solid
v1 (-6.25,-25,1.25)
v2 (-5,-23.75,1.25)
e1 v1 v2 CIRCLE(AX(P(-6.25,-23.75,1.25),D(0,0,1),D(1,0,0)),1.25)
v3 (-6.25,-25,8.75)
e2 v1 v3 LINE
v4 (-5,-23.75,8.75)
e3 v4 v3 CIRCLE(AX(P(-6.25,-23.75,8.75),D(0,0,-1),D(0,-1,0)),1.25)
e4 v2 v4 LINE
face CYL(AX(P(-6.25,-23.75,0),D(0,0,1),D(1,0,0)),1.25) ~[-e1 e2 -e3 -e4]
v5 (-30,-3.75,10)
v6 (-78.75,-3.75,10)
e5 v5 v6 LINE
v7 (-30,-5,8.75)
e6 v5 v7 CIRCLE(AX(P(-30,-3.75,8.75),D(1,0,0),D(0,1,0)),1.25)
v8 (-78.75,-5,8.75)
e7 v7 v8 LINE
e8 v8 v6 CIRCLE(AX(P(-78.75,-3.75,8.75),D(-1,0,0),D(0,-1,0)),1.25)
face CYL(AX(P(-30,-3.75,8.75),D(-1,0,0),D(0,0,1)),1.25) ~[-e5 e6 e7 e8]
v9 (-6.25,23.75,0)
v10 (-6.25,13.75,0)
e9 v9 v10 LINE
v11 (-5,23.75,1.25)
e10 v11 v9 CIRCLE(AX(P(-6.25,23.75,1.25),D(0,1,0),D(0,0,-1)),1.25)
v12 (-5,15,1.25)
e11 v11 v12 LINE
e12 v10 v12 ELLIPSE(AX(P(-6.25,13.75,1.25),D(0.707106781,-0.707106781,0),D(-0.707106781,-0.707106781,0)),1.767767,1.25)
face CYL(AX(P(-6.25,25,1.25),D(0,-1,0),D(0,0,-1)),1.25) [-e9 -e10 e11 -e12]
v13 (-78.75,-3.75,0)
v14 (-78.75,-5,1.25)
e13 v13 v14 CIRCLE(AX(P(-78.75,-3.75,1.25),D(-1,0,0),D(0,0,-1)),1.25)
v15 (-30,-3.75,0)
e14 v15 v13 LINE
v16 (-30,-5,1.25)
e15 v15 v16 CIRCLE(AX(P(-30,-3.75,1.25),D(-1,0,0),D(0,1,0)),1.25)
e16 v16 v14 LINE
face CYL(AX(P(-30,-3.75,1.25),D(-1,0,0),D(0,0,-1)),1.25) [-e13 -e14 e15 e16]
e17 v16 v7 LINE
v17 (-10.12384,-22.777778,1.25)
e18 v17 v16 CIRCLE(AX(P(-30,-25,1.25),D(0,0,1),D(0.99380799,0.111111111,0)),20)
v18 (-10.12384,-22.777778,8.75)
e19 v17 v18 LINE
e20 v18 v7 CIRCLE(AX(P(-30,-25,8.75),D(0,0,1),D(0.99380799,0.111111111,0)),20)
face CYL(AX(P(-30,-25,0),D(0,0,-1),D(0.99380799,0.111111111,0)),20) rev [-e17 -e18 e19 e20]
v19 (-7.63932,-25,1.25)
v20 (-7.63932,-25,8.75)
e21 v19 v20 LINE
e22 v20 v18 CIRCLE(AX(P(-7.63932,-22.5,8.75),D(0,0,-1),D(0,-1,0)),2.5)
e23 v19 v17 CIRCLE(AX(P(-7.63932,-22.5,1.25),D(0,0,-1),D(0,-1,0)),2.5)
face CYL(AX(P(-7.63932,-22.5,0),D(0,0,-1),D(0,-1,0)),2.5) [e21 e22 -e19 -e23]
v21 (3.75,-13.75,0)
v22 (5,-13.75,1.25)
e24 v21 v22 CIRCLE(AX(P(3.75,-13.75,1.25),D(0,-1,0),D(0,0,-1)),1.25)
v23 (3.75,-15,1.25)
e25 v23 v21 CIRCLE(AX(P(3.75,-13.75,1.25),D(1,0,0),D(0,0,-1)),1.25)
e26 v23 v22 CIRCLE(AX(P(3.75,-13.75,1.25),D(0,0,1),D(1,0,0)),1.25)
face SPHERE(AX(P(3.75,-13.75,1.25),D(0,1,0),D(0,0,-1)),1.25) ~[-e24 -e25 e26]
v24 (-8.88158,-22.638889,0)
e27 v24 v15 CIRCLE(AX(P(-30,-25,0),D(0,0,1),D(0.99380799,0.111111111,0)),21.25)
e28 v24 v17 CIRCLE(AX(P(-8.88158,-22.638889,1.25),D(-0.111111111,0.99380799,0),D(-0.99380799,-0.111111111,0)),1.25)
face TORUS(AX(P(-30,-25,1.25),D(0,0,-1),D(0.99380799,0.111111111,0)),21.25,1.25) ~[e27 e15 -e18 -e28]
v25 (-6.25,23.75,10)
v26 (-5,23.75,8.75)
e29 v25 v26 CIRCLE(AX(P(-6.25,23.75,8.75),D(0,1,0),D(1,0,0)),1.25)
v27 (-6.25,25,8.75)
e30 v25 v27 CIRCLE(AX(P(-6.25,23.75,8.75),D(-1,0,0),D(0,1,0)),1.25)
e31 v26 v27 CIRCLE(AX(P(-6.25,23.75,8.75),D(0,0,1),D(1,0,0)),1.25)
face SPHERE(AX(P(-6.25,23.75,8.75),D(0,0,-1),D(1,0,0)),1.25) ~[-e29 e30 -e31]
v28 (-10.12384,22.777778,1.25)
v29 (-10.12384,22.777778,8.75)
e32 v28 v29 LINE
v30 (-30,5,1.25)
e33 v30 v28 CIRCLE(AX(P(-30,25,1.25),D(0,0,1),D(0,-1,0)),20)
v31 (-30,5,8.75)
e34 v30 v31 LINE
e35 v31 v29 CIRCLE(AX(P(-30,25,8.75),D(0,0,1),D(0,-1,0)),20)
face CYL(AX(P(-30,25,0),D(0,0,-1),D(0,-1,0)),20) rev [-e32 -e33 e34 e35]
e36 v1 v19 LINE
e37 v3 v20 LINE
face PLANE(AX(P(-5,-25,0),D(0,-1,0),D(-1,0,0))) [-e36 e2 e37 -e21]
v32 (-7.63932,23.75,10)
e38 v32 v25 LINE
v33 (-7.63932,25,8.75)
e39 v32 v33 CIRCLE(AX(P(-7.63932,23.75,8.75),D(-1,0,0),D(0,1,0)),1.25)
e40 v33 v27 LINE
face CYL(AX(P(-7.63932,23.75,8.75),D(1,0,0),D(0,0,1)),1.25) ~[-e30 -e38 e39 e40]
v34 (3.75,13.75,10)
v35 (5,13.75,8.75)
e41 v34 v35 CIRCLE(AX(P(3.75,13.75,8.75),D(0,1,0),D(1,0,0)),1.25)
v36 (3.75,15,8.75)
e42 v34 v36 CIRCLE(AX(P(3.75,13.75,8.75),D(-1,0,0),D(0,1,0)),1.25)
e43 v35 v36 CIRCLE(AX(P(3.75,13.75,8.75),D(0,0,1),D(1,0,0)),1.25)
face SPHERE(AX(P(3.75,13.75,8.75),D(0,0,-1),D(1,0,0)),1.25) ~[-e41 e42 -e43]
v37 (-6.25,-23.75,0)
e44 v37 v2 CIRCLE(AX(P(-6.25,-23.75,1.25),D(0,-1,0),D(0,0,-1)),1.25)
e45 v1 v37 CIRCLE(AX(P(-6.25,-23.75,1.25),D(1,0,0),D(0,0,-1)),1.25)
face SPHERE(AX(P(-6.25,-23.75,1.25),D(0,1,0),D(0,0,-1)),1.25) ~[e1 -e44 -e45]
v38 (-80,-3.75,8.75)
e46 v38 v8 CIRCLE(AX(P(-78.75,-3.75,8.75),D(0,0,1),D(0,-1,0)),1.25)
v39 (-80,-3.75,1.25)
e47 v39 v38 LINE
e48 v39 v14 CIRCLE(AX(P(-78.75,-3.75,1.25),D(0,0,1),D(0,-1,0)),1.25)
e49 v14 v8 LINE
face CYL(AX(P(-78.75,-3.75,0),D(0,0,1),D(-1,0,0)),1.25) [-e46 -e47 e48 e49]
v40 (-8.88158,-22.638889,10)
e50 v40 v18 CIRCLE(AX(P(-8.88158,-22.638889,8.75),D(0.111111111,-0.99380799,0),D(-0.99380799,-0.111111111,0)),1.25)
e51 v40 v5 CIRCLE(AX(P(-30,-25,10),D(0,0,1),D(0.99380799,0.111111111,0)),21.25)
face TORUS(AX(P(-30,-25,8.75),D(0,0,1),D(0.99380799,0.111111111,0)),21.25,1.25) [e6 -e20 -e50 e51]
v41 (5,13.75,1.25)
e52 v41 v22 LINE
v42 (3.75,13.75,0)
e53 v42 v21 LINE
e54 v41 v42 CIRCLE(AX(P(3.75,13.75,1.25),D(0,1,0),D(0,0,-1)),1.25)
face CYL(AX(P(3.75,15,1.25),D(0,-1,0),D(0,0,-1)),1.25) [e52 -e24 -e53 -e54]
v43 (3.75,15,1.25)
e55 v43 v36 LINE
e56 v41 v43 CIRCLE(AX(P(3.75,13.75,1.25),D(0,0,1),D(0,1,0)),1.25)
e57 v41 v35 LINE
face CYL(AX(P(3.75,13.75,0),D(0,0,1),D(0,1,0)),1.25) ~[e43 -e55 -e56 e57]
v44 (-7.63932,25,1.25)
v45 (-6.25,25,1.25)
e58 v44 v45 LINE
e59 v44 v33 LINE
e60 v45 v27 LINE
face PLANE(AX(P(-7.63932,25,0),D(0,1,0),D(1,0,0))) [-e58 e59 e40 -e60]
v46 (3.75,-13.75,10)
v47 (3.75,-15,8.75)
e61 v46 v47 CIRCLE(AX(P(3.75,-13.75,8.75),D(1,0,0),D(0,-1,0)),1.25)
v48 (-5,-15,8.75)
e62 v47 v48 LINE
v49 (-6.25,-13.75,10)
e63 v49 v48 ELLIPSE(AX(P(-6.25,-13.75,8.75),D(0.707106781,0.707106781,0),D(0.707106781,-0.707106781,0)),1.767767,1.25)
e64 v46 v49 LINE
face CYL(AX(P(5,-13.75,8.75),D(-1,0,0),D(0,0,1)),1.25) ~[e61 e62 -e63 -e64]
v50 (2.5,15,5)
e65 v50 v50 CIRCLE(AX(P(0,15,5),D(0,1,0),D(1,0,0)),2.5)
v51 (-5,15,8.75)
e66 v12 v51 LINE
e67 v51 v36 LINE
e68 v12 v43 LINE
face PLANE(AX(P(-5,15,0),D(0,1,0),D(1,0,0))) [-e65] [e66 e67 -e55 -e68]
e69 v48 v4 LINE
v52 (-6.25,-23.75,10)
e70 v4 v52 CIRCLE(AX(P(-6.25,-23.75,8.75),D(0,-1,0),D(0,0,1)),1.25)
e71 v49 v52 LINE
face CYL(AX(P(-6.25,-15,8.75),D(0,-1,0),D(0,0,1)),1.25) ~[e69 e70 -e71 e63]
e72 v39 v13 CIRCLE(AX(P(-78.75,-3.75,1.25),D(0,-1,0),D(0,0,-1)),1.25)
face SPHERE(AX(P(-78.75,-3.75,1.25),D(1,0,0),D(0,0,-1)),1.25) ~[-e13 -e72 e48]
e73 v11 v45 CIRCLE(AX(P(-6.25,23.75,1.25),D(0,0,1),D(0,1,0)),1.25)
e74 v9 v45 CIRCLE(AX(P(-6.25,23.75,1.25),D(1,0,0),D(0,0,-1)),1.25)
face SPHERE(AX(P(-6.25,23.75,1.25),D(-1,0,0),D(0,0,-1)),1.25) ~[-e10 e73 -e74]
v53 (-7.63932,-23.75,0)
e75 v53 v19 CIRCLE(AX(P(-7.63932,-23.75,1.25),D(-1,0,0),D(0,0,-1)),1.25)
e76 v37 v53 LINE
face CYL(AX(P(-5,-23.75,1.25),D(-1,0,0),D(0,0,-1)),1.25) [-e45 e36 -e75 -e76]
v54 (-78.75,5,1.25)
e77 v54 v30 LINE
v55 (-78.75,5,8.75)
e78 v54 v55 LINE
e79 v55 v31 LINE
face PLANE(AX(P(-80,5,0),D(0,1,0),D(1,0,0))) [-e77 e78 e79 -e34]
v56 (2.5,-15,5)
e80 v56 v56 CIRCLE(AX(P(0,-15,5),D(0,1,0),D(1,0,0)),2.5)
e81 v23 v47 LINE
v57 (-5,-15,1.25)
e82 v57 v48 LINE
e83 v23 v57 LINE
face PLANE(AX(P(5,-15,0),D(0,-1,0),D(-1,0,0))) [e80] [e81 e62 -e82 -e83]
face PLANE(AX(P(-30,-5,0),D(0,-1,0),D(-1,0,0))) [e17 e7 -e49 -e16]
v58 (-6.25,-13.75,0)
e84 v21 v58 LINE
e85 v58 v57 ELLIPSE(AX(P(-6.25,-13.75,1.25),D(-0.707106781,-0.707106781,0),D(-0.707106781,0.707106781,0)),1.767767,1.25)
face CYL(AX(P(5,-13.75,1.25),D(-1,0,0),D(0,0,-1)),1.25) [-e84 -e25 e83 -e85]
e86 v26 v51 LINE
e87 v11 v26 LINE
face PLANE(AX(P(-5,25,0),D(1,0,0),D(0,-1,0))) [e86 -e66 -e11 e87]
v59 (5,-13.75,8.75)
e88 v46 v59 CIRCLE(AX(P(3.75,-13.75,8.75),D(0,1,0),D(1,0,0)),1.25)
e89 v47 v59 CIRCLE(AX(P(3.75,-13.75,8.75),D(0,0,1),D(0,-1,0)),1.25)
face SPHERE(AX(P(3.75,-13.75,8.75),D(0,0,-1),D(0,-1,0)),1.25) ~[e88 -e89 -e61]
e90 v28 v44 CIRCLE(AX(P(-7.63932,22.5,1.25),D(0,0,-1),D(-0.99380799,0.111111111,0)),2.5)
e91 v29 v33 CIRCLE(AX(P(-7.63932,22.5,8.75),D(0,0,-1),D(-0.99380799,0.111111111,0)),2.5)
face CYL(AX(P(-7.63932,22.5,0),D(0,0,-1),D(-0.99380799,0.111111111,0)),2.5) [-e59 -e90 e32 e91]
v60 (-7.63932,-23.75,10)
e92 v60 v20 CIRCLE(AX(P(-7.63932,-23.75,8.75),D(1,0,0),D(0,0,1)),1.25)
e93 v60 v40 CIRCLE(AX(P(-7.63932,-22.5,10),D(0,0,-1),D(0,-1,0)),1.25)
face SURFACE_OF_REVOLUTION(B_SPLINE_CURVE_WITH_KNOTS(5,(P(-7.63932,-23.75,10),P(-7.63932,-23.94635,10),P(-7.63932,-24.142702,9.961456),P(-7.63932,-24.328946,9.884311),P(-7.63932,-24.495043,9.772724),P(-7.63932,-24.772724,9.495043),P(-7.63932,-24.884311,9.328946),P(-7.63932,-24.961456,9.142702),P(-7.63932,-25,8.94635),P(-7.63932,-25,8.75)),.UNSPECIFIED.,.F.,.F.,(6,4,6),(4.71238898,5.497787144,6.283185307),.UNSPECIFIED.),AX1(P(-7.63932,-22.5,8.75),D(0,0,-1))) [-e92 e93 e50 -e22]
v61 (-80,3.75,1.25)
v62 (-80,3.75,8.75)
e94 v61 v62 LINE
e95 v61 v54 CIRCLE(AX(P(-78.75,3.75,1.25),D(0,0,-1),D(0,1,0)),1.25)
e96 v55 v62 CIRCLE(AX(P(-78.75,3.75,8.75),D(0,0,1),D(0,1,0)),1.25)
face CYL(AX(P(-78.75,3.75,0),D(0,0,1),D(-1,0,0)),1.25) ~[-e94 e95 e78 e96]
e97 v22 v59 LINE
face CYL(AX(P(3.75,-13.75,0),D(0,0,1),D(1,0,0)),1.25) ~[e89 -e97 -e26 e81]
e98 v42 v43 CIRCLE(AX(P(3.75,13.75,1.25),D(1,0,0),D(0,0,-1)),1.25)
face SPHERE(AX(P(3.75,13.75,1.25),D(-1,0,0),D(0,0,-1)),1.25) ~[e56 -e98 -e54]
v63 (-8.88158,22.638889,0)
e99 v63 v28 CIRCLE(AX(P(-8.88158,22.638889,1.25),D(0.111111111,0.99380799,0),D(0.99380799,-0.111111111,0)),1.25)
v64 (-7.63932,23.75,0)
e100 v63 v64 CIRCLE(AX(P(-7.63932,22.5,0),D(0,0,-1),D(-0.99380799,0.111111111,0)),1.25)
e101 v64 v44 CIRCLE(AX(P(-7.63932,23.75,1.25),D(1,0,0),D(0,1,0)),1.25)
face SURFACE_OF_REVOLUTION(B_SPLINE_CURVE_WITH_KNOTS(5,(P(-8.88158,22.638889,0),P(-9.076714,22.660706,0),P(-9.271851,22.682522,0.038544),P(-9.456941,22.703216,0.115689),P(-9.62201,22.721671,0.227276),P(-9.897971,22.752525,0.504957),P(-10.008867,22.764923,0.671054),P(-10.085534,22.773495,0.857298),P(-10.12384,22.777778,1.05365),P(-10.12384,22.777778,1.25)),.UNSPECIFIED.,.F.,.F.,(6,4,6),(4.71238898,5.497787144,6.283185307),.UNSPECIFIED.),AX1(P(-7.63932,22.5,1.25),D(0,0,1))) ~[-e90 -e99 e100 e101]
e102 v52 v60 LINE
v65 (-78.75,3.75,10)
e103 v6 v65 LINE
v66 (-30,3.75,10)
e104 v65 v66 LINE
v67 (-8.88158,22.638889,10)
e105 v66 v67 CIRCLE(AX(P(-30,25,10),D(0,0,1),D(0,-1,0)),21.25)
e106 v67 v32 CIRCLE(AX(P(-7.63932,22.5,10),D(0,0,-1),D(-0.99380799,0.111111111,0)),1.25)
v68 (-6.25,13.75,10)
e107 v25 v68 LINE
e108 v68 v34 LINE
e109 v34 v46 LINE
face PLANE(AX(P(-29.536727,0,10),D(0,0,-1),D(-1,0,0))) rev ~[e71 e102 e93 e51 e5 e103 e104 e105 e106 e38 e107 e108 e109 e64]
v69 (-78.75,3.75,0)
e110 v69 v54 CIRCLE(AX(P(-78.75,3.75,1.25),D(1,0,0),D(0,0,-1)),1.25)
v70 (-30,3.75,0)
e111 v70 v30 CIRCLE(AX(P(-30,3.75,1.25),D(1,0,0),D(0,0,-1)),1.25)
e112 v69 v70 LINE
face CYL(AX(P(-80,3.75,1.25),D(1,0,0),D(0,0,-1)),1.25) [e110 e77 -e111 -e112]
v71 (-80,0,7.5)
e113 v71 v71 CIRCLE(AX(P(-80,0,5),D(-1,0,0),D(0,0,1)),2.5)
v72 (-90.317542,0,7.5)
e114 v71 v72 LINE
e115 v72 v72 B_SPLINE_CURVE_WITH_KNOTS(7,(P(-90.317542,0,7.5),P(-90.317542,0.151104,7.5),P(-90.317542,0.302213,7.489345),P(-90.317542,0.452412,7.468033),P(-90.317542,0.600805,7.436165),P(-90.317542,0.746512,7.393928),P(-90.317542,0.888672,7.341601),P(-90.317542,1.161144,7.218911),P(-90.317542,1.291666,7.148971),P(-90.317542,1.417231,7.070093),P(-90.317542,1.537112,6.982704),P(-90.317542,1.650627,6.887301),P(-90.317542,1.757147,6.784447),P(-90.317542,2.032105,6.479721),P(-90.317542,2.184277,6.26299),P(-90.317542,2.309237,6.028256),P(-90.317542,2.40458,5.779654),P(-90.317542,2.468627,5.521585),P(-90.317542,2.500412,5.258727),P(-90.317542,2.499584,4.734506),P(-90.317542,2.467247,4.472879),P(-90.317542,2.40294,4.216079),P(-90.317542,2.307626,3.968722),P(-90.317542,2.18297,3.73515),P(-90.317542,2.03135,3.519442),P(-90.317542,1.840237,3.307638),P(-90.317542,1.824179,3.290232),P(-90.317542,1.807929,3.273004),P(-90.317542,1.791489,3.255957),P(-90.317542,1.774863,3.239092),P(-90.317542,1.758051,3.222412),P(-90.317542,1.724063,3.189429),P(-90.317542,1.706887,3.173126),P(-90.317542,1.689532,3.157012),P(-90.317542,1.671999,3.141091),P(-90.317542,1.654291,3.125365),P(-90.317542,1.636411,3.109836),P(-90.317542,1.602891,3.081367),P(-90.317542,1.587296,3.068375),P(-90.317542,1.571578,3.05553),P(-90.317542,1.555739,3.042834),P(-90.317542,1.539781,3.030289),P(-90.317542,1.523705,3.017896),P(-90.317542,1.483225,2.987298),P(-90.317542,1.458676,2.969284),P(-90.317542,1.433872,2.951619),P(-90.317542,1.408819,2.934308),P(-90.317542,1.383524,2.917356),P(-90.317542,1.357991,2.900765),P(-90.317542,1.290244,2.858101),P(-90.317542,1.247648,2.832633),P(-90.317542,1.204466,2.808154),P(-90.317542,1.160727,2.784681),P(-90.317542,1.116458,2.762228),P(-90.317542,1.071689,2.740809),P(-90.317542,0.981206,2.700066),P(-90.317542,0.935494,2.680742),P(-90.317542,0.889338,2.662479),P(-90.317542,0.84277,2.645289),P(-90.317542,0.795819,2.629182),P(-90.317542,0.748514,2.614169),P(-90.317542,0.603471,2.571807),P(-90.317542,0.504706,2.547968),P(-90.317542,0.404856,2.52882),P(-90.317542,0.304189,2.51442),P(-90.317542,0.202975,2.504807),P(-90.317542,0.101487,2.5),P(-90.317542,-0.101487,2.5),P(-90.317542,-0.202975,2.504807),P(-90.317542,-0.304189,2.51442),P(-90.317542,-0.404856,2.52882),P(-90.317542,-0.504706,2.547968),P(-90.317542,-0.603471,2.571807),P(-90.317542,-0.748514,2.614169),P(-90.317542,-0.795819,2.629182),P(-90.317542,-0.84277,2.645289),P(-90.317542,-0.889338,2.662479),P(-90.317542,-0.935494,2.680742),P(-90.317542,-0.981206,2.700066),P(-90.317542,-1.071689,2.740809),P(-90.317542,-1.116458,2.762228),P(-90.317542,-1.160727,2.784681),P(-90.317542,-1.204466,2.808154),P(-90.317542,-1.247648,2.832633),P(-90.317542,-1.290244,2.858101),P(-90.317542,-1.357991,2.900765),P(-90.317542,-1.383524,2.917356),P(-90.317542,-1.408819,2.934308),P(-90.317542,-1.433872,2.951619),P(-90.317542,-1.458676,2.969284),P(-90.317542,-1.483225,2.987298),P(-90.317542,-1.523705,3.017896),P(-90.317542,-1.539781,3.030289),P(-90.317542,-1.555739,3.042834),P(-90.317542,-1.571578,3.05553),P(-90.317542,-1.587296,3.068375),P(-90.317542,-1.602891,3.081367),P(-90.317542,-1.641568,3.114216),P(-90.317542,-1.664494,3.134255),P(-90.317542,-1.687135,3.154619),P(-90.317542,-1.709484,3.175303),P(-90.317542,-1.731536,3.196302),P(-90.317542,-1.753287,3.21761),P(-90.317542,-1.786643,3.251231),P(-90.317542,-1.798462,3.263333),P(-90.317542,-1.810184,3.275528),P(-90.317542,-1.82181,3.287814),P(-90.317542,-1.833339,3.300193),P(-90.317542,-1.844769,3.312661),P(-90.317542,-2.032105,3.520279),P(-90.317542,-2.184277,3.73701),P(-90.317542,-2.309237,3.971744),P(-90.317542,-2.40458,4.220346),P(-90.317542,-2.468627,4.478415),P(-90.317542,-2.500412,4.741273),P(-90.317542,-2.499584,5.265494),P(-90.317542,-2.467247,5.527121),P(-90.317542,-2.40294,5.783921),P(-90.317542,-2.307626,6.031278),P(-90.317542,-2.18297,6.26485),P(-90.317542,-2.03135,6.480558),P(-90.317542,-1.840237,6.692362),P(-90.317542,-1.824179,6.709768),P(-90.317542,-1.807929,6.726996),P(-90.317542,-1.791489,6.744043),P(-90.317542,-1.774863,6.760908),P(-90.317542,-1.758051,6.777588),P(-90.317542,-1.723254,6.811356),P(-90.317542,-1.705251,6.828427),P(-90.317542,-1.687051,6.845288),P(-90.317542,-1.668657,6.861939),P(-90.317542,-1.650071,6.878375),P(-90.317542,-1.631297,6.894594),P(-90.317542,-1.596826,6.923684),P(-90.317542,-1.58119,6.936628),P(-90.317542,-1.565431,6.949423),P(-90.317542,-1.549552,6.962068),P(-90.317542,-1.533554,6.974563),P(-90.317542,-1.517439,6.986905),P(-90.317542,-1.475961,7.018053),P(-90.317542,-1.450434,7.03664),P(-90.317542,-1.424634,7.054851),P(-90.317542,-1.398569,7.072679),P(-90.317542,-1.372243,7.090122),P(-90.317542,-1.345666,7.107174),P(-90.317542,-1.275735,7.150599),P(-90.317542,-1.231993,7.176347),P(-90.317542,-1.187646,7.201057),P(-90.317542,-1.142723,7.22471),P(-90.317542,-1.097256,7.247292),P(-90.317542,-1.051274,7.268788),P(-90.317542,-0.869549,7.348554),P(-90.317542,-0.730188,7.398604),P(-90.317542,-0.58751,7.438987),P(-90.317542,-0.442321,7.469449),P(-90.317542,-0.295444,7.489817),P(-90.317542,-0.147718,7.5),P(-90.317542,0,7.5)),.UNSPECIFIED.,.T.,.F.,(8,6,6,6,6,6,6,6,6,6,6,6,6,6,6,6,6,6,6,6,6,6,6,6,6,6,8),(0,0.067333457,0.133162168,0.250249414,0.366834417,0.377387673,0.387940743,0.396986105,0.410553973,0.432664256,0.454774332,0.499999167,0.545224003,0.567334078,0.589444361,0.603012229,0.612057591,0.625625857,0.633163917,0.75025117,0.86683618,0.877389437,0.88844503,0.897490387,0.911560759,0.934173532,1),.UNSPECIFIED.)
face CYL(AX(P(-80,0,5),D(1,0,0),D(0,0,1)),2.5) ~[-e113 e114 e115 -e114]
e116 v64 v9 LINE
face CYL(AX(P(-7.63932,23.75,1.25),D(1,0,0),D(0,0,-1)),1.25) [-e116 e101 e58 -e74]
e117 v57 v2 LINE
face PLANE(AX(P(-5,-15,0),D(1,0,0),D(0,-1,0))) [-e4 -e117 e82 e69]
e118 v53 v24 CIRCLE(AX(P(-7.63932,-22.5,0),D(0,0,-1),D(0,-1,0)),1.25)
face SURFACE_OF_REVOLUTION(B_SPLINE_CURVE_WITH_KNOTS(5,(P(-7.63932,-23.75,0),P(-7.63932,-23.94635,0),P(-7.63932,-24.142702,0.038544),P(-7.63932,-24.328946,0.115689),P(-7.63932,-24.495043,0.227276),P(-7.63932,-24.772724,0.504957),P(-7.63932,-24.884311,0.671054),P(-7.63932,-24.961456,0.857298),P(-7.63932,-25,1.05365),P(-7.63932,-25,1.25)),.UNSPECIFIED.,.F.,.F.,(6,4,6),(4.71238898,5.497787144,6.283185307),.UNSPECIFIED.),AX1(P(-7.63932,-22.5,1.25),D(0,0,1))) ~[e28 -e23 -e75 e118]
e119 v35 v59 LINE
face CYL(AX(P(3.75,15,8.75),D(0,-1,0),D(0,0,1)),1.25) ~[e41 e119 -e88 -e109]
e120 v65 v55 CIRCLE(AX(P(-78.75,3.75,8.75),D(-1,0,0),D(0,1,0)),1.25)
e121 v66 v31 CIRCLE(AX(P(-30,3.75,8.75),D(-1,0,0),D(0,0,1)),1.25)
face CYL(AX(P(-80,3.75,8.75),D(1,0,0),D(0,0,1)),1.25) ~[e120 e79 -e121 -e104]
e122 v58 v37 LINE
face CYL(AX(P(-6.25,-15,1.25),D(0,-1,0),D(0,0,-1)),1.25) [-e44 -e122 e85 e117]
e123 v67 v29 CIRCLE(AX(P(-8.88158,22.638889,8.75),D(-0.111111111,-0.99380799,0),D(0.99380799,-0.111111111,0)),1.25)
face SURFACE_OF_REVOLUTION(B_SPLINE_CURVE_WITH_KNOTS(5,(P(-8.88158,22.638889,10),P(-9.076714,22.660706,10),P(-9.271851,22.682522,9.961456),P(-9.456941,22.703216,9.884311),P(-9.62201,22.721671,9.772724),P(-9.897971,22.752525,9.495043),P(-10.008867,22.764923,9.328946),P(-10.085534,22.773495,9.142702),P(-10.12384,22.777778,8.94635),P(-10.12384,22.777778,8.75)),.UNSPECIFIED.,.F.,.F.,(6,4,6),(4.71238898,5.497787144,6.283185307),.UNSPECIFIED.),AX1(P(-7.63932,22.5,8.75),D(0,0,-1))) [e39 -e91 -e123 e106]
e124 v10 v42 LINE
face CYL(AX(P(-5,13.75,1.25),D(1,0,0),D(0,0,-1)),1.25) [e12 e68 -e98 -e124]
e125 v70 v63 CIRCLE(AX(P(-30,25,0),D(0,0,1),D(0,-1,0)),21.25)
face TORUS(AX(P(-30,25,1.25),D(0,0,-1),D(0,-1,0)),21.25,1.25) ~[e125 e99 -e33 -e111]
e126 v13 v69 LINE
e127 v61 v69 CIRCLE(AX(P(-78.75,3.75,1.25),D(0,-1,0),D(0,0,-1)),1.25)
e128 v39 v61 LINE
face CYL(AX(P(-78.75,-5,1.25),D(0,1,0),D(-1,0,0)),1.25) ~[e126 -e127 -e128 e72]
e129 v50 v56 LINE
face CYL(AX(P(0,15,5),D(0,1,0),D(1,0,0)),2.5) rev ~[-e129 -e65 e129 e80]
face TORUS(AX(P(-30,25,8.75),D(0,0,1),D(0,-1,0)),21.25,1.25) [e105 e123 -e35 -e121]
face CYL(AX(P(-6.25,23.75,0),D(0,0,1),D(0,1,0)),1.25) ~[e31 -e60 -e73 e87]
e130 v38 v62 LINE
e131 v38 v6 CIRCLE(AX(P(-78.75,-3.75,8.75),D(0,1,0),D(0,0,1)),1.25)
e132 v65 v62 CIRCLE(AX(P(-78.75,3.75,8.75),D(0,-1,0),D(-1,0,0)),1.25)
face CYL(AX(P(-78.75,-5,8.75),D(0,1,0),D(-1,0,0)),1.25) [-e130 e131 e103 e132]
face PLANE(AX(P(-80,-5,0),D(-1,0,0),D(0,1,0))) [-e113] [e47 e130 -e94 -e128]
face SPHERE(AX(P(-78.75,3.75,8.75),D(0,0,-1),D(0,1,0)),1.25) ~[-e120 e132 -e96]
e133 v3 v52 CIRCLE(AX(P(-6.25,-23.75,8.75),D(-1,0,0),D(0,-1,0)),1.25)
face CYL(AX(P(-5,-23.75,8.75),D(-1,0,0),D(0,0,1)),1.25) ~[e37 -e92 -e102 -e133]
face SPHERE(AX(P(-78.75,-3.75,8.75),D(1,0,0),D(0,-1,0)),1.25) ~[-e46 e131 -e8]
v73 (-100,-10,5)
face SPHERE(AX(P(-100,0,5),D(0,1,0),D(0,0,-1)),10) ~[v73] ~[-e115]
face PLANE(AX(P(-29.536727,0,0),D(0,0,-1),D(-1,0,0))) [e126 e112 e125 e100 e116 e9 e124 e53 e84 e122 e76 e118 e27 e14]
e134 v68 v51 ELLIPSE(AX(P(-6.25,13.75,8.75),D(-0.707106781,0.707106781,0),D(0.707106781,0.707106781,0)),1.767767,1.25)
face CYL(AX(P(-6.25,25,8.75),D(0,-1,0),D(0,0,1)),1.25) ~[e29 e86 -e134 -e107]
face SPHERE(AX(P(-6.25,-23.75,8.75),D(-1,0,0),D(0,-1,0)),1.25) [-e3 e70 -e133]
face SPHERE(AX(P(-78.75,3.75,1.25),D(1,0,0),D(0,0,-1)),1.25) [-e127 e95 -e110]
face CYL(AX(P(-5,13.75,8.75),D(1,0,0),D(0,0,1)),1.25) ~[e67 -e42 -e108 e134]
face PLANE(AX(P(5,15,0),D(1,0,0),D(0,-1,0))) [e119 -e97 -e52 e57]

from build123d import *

# Parameters (mm, degrees)
BOSS_EXTRUDE2_DEPTH = 10
SKETCH2_R           = 2.5
BOSS_EXTRUDE3_DEPTH = 20
SKETCH4_R           = 2.5
CUT_EXTRUDE1_DEPTH  = 41
FILLET1_R           = 1.25


with BuildPart() as part:
    # Sketch1 → Boss-Extrude2 (new body)
    with BuildSketch(Plane.XY):
        with BuildLine():
            Line((-80, 5), (-30, 5))
            ThreePointArc((-30, 5), (-16.666666667, 10.09288015), (-10.1238402, 22.777777778))
            ThreePointArc((-10.1238402, 22.777777778), (-9.305986892, 24.363389981), (-7.639320225, 25))
            Line((-7.639320225, 25), (-5, 25))
            Line((-5, 25), (-5, 15))
            Line((-5, 15), (5, 15))
            Line((5, 15), (5, -15))
            Line((5, -15), (-5, -15))
            Line((-5, -15), (-5, -25))
            Line((-5, -25), (-7.639320225, -25))
            ThreePointArc((-7.639320225, -25), (-9.305986892, -24.363389981), (-10.1238402, -22.777777778))
            ThreePointArc((-10.1238402, -22.777777778), (-16.666666667, -10.09288015), (-30, -5))
            Line((-30, -5), (-80, -5))
            Line((-80, -5), (-80, 5))
        make_face()
    extrude(amount=BOSS_EXTRUDE2_DEPTH)

    # Sketch2 → Boss-Extrude3 (add)
    with BuildSketch(Plane.ZY.offset(80)):
        with Locations((5, 0)):
            Circle(SKETCH2_R)
    extrude(amount=BOSS_EXTRUDE3_DEPTH)

    # Sketch3 → Revolve1 (revolve)
    with BuildSketch(Plane.ZY.offset(100)):
        with BuildLine():
            Line((5, 10), (5, -10))
            ThreePointArc((5, -10), (-5, 0), (5, 10))
        make_face()
    revolve(axis=Axis((-100, 10, 5), (0, -1, 0)))

    # Sketch4 → Cut-Extrude1 (cut, through all)
    with BuildSketch(Plane(origin=(0, 15, 0), x_dir=(1, 0, 0), z_dir=(0, 1, 0))):
        with Locations((0, -5)):
            Circle(SKETCH4_R)
    extrude(amount=-CUT_EXTRUDE1_DEPTH, mode=Mode.SUBTRACT)

    # Fillet1
    fillet1_edges = [part.edges().sort_by_distance(p)[0] for p in [
        (-16.666666667, -10.09288015, 10),
        (-55, 5, 0),
        (-16.666666667, 10.09288015, 0),
        (-9.305986892, 24.363389981, 0),
        (-6.319660113, 25, 0),
        (-5, 20, 0),
        (0, 15, 0),
        (5, 0, 0),
        (0, -15, 0),
        (-9.305986892, -24.363389981, 10),
        (-5, -20, 0),
        (-6.319660113, -25, 0),
        (-9.305986892, -24.363389981, 0),
        (-16.666666667, -10.09288015, 0),
        (-55, -5, 0),
        (-80, 0, 0),
        (-6.319660113, -25, 10),
        (-80, 5, 5),
        (-5, 25, 5),
        (5, 15, 5),
        (5, -15, 5),
        (-5, -25, 5),
        (-5, -20, 10),
        (-80, -5, 5),
        (0, -15, 10),
        (5, 0, 10),
        (0, 15, 10),
        (-5, 20, 10),
        (-6.319660113, 25, 10),
        (-9.305986892, 24.363389981, 10),
        (-80, 0, 10),
        (-16.666666667, 10.09288015, 10),
        (-55, 5, 10),
        (-55, -5, 10),
    ]]
    fillet(fillet1_edges, radius=FILLET1_R)


solid = part.part
